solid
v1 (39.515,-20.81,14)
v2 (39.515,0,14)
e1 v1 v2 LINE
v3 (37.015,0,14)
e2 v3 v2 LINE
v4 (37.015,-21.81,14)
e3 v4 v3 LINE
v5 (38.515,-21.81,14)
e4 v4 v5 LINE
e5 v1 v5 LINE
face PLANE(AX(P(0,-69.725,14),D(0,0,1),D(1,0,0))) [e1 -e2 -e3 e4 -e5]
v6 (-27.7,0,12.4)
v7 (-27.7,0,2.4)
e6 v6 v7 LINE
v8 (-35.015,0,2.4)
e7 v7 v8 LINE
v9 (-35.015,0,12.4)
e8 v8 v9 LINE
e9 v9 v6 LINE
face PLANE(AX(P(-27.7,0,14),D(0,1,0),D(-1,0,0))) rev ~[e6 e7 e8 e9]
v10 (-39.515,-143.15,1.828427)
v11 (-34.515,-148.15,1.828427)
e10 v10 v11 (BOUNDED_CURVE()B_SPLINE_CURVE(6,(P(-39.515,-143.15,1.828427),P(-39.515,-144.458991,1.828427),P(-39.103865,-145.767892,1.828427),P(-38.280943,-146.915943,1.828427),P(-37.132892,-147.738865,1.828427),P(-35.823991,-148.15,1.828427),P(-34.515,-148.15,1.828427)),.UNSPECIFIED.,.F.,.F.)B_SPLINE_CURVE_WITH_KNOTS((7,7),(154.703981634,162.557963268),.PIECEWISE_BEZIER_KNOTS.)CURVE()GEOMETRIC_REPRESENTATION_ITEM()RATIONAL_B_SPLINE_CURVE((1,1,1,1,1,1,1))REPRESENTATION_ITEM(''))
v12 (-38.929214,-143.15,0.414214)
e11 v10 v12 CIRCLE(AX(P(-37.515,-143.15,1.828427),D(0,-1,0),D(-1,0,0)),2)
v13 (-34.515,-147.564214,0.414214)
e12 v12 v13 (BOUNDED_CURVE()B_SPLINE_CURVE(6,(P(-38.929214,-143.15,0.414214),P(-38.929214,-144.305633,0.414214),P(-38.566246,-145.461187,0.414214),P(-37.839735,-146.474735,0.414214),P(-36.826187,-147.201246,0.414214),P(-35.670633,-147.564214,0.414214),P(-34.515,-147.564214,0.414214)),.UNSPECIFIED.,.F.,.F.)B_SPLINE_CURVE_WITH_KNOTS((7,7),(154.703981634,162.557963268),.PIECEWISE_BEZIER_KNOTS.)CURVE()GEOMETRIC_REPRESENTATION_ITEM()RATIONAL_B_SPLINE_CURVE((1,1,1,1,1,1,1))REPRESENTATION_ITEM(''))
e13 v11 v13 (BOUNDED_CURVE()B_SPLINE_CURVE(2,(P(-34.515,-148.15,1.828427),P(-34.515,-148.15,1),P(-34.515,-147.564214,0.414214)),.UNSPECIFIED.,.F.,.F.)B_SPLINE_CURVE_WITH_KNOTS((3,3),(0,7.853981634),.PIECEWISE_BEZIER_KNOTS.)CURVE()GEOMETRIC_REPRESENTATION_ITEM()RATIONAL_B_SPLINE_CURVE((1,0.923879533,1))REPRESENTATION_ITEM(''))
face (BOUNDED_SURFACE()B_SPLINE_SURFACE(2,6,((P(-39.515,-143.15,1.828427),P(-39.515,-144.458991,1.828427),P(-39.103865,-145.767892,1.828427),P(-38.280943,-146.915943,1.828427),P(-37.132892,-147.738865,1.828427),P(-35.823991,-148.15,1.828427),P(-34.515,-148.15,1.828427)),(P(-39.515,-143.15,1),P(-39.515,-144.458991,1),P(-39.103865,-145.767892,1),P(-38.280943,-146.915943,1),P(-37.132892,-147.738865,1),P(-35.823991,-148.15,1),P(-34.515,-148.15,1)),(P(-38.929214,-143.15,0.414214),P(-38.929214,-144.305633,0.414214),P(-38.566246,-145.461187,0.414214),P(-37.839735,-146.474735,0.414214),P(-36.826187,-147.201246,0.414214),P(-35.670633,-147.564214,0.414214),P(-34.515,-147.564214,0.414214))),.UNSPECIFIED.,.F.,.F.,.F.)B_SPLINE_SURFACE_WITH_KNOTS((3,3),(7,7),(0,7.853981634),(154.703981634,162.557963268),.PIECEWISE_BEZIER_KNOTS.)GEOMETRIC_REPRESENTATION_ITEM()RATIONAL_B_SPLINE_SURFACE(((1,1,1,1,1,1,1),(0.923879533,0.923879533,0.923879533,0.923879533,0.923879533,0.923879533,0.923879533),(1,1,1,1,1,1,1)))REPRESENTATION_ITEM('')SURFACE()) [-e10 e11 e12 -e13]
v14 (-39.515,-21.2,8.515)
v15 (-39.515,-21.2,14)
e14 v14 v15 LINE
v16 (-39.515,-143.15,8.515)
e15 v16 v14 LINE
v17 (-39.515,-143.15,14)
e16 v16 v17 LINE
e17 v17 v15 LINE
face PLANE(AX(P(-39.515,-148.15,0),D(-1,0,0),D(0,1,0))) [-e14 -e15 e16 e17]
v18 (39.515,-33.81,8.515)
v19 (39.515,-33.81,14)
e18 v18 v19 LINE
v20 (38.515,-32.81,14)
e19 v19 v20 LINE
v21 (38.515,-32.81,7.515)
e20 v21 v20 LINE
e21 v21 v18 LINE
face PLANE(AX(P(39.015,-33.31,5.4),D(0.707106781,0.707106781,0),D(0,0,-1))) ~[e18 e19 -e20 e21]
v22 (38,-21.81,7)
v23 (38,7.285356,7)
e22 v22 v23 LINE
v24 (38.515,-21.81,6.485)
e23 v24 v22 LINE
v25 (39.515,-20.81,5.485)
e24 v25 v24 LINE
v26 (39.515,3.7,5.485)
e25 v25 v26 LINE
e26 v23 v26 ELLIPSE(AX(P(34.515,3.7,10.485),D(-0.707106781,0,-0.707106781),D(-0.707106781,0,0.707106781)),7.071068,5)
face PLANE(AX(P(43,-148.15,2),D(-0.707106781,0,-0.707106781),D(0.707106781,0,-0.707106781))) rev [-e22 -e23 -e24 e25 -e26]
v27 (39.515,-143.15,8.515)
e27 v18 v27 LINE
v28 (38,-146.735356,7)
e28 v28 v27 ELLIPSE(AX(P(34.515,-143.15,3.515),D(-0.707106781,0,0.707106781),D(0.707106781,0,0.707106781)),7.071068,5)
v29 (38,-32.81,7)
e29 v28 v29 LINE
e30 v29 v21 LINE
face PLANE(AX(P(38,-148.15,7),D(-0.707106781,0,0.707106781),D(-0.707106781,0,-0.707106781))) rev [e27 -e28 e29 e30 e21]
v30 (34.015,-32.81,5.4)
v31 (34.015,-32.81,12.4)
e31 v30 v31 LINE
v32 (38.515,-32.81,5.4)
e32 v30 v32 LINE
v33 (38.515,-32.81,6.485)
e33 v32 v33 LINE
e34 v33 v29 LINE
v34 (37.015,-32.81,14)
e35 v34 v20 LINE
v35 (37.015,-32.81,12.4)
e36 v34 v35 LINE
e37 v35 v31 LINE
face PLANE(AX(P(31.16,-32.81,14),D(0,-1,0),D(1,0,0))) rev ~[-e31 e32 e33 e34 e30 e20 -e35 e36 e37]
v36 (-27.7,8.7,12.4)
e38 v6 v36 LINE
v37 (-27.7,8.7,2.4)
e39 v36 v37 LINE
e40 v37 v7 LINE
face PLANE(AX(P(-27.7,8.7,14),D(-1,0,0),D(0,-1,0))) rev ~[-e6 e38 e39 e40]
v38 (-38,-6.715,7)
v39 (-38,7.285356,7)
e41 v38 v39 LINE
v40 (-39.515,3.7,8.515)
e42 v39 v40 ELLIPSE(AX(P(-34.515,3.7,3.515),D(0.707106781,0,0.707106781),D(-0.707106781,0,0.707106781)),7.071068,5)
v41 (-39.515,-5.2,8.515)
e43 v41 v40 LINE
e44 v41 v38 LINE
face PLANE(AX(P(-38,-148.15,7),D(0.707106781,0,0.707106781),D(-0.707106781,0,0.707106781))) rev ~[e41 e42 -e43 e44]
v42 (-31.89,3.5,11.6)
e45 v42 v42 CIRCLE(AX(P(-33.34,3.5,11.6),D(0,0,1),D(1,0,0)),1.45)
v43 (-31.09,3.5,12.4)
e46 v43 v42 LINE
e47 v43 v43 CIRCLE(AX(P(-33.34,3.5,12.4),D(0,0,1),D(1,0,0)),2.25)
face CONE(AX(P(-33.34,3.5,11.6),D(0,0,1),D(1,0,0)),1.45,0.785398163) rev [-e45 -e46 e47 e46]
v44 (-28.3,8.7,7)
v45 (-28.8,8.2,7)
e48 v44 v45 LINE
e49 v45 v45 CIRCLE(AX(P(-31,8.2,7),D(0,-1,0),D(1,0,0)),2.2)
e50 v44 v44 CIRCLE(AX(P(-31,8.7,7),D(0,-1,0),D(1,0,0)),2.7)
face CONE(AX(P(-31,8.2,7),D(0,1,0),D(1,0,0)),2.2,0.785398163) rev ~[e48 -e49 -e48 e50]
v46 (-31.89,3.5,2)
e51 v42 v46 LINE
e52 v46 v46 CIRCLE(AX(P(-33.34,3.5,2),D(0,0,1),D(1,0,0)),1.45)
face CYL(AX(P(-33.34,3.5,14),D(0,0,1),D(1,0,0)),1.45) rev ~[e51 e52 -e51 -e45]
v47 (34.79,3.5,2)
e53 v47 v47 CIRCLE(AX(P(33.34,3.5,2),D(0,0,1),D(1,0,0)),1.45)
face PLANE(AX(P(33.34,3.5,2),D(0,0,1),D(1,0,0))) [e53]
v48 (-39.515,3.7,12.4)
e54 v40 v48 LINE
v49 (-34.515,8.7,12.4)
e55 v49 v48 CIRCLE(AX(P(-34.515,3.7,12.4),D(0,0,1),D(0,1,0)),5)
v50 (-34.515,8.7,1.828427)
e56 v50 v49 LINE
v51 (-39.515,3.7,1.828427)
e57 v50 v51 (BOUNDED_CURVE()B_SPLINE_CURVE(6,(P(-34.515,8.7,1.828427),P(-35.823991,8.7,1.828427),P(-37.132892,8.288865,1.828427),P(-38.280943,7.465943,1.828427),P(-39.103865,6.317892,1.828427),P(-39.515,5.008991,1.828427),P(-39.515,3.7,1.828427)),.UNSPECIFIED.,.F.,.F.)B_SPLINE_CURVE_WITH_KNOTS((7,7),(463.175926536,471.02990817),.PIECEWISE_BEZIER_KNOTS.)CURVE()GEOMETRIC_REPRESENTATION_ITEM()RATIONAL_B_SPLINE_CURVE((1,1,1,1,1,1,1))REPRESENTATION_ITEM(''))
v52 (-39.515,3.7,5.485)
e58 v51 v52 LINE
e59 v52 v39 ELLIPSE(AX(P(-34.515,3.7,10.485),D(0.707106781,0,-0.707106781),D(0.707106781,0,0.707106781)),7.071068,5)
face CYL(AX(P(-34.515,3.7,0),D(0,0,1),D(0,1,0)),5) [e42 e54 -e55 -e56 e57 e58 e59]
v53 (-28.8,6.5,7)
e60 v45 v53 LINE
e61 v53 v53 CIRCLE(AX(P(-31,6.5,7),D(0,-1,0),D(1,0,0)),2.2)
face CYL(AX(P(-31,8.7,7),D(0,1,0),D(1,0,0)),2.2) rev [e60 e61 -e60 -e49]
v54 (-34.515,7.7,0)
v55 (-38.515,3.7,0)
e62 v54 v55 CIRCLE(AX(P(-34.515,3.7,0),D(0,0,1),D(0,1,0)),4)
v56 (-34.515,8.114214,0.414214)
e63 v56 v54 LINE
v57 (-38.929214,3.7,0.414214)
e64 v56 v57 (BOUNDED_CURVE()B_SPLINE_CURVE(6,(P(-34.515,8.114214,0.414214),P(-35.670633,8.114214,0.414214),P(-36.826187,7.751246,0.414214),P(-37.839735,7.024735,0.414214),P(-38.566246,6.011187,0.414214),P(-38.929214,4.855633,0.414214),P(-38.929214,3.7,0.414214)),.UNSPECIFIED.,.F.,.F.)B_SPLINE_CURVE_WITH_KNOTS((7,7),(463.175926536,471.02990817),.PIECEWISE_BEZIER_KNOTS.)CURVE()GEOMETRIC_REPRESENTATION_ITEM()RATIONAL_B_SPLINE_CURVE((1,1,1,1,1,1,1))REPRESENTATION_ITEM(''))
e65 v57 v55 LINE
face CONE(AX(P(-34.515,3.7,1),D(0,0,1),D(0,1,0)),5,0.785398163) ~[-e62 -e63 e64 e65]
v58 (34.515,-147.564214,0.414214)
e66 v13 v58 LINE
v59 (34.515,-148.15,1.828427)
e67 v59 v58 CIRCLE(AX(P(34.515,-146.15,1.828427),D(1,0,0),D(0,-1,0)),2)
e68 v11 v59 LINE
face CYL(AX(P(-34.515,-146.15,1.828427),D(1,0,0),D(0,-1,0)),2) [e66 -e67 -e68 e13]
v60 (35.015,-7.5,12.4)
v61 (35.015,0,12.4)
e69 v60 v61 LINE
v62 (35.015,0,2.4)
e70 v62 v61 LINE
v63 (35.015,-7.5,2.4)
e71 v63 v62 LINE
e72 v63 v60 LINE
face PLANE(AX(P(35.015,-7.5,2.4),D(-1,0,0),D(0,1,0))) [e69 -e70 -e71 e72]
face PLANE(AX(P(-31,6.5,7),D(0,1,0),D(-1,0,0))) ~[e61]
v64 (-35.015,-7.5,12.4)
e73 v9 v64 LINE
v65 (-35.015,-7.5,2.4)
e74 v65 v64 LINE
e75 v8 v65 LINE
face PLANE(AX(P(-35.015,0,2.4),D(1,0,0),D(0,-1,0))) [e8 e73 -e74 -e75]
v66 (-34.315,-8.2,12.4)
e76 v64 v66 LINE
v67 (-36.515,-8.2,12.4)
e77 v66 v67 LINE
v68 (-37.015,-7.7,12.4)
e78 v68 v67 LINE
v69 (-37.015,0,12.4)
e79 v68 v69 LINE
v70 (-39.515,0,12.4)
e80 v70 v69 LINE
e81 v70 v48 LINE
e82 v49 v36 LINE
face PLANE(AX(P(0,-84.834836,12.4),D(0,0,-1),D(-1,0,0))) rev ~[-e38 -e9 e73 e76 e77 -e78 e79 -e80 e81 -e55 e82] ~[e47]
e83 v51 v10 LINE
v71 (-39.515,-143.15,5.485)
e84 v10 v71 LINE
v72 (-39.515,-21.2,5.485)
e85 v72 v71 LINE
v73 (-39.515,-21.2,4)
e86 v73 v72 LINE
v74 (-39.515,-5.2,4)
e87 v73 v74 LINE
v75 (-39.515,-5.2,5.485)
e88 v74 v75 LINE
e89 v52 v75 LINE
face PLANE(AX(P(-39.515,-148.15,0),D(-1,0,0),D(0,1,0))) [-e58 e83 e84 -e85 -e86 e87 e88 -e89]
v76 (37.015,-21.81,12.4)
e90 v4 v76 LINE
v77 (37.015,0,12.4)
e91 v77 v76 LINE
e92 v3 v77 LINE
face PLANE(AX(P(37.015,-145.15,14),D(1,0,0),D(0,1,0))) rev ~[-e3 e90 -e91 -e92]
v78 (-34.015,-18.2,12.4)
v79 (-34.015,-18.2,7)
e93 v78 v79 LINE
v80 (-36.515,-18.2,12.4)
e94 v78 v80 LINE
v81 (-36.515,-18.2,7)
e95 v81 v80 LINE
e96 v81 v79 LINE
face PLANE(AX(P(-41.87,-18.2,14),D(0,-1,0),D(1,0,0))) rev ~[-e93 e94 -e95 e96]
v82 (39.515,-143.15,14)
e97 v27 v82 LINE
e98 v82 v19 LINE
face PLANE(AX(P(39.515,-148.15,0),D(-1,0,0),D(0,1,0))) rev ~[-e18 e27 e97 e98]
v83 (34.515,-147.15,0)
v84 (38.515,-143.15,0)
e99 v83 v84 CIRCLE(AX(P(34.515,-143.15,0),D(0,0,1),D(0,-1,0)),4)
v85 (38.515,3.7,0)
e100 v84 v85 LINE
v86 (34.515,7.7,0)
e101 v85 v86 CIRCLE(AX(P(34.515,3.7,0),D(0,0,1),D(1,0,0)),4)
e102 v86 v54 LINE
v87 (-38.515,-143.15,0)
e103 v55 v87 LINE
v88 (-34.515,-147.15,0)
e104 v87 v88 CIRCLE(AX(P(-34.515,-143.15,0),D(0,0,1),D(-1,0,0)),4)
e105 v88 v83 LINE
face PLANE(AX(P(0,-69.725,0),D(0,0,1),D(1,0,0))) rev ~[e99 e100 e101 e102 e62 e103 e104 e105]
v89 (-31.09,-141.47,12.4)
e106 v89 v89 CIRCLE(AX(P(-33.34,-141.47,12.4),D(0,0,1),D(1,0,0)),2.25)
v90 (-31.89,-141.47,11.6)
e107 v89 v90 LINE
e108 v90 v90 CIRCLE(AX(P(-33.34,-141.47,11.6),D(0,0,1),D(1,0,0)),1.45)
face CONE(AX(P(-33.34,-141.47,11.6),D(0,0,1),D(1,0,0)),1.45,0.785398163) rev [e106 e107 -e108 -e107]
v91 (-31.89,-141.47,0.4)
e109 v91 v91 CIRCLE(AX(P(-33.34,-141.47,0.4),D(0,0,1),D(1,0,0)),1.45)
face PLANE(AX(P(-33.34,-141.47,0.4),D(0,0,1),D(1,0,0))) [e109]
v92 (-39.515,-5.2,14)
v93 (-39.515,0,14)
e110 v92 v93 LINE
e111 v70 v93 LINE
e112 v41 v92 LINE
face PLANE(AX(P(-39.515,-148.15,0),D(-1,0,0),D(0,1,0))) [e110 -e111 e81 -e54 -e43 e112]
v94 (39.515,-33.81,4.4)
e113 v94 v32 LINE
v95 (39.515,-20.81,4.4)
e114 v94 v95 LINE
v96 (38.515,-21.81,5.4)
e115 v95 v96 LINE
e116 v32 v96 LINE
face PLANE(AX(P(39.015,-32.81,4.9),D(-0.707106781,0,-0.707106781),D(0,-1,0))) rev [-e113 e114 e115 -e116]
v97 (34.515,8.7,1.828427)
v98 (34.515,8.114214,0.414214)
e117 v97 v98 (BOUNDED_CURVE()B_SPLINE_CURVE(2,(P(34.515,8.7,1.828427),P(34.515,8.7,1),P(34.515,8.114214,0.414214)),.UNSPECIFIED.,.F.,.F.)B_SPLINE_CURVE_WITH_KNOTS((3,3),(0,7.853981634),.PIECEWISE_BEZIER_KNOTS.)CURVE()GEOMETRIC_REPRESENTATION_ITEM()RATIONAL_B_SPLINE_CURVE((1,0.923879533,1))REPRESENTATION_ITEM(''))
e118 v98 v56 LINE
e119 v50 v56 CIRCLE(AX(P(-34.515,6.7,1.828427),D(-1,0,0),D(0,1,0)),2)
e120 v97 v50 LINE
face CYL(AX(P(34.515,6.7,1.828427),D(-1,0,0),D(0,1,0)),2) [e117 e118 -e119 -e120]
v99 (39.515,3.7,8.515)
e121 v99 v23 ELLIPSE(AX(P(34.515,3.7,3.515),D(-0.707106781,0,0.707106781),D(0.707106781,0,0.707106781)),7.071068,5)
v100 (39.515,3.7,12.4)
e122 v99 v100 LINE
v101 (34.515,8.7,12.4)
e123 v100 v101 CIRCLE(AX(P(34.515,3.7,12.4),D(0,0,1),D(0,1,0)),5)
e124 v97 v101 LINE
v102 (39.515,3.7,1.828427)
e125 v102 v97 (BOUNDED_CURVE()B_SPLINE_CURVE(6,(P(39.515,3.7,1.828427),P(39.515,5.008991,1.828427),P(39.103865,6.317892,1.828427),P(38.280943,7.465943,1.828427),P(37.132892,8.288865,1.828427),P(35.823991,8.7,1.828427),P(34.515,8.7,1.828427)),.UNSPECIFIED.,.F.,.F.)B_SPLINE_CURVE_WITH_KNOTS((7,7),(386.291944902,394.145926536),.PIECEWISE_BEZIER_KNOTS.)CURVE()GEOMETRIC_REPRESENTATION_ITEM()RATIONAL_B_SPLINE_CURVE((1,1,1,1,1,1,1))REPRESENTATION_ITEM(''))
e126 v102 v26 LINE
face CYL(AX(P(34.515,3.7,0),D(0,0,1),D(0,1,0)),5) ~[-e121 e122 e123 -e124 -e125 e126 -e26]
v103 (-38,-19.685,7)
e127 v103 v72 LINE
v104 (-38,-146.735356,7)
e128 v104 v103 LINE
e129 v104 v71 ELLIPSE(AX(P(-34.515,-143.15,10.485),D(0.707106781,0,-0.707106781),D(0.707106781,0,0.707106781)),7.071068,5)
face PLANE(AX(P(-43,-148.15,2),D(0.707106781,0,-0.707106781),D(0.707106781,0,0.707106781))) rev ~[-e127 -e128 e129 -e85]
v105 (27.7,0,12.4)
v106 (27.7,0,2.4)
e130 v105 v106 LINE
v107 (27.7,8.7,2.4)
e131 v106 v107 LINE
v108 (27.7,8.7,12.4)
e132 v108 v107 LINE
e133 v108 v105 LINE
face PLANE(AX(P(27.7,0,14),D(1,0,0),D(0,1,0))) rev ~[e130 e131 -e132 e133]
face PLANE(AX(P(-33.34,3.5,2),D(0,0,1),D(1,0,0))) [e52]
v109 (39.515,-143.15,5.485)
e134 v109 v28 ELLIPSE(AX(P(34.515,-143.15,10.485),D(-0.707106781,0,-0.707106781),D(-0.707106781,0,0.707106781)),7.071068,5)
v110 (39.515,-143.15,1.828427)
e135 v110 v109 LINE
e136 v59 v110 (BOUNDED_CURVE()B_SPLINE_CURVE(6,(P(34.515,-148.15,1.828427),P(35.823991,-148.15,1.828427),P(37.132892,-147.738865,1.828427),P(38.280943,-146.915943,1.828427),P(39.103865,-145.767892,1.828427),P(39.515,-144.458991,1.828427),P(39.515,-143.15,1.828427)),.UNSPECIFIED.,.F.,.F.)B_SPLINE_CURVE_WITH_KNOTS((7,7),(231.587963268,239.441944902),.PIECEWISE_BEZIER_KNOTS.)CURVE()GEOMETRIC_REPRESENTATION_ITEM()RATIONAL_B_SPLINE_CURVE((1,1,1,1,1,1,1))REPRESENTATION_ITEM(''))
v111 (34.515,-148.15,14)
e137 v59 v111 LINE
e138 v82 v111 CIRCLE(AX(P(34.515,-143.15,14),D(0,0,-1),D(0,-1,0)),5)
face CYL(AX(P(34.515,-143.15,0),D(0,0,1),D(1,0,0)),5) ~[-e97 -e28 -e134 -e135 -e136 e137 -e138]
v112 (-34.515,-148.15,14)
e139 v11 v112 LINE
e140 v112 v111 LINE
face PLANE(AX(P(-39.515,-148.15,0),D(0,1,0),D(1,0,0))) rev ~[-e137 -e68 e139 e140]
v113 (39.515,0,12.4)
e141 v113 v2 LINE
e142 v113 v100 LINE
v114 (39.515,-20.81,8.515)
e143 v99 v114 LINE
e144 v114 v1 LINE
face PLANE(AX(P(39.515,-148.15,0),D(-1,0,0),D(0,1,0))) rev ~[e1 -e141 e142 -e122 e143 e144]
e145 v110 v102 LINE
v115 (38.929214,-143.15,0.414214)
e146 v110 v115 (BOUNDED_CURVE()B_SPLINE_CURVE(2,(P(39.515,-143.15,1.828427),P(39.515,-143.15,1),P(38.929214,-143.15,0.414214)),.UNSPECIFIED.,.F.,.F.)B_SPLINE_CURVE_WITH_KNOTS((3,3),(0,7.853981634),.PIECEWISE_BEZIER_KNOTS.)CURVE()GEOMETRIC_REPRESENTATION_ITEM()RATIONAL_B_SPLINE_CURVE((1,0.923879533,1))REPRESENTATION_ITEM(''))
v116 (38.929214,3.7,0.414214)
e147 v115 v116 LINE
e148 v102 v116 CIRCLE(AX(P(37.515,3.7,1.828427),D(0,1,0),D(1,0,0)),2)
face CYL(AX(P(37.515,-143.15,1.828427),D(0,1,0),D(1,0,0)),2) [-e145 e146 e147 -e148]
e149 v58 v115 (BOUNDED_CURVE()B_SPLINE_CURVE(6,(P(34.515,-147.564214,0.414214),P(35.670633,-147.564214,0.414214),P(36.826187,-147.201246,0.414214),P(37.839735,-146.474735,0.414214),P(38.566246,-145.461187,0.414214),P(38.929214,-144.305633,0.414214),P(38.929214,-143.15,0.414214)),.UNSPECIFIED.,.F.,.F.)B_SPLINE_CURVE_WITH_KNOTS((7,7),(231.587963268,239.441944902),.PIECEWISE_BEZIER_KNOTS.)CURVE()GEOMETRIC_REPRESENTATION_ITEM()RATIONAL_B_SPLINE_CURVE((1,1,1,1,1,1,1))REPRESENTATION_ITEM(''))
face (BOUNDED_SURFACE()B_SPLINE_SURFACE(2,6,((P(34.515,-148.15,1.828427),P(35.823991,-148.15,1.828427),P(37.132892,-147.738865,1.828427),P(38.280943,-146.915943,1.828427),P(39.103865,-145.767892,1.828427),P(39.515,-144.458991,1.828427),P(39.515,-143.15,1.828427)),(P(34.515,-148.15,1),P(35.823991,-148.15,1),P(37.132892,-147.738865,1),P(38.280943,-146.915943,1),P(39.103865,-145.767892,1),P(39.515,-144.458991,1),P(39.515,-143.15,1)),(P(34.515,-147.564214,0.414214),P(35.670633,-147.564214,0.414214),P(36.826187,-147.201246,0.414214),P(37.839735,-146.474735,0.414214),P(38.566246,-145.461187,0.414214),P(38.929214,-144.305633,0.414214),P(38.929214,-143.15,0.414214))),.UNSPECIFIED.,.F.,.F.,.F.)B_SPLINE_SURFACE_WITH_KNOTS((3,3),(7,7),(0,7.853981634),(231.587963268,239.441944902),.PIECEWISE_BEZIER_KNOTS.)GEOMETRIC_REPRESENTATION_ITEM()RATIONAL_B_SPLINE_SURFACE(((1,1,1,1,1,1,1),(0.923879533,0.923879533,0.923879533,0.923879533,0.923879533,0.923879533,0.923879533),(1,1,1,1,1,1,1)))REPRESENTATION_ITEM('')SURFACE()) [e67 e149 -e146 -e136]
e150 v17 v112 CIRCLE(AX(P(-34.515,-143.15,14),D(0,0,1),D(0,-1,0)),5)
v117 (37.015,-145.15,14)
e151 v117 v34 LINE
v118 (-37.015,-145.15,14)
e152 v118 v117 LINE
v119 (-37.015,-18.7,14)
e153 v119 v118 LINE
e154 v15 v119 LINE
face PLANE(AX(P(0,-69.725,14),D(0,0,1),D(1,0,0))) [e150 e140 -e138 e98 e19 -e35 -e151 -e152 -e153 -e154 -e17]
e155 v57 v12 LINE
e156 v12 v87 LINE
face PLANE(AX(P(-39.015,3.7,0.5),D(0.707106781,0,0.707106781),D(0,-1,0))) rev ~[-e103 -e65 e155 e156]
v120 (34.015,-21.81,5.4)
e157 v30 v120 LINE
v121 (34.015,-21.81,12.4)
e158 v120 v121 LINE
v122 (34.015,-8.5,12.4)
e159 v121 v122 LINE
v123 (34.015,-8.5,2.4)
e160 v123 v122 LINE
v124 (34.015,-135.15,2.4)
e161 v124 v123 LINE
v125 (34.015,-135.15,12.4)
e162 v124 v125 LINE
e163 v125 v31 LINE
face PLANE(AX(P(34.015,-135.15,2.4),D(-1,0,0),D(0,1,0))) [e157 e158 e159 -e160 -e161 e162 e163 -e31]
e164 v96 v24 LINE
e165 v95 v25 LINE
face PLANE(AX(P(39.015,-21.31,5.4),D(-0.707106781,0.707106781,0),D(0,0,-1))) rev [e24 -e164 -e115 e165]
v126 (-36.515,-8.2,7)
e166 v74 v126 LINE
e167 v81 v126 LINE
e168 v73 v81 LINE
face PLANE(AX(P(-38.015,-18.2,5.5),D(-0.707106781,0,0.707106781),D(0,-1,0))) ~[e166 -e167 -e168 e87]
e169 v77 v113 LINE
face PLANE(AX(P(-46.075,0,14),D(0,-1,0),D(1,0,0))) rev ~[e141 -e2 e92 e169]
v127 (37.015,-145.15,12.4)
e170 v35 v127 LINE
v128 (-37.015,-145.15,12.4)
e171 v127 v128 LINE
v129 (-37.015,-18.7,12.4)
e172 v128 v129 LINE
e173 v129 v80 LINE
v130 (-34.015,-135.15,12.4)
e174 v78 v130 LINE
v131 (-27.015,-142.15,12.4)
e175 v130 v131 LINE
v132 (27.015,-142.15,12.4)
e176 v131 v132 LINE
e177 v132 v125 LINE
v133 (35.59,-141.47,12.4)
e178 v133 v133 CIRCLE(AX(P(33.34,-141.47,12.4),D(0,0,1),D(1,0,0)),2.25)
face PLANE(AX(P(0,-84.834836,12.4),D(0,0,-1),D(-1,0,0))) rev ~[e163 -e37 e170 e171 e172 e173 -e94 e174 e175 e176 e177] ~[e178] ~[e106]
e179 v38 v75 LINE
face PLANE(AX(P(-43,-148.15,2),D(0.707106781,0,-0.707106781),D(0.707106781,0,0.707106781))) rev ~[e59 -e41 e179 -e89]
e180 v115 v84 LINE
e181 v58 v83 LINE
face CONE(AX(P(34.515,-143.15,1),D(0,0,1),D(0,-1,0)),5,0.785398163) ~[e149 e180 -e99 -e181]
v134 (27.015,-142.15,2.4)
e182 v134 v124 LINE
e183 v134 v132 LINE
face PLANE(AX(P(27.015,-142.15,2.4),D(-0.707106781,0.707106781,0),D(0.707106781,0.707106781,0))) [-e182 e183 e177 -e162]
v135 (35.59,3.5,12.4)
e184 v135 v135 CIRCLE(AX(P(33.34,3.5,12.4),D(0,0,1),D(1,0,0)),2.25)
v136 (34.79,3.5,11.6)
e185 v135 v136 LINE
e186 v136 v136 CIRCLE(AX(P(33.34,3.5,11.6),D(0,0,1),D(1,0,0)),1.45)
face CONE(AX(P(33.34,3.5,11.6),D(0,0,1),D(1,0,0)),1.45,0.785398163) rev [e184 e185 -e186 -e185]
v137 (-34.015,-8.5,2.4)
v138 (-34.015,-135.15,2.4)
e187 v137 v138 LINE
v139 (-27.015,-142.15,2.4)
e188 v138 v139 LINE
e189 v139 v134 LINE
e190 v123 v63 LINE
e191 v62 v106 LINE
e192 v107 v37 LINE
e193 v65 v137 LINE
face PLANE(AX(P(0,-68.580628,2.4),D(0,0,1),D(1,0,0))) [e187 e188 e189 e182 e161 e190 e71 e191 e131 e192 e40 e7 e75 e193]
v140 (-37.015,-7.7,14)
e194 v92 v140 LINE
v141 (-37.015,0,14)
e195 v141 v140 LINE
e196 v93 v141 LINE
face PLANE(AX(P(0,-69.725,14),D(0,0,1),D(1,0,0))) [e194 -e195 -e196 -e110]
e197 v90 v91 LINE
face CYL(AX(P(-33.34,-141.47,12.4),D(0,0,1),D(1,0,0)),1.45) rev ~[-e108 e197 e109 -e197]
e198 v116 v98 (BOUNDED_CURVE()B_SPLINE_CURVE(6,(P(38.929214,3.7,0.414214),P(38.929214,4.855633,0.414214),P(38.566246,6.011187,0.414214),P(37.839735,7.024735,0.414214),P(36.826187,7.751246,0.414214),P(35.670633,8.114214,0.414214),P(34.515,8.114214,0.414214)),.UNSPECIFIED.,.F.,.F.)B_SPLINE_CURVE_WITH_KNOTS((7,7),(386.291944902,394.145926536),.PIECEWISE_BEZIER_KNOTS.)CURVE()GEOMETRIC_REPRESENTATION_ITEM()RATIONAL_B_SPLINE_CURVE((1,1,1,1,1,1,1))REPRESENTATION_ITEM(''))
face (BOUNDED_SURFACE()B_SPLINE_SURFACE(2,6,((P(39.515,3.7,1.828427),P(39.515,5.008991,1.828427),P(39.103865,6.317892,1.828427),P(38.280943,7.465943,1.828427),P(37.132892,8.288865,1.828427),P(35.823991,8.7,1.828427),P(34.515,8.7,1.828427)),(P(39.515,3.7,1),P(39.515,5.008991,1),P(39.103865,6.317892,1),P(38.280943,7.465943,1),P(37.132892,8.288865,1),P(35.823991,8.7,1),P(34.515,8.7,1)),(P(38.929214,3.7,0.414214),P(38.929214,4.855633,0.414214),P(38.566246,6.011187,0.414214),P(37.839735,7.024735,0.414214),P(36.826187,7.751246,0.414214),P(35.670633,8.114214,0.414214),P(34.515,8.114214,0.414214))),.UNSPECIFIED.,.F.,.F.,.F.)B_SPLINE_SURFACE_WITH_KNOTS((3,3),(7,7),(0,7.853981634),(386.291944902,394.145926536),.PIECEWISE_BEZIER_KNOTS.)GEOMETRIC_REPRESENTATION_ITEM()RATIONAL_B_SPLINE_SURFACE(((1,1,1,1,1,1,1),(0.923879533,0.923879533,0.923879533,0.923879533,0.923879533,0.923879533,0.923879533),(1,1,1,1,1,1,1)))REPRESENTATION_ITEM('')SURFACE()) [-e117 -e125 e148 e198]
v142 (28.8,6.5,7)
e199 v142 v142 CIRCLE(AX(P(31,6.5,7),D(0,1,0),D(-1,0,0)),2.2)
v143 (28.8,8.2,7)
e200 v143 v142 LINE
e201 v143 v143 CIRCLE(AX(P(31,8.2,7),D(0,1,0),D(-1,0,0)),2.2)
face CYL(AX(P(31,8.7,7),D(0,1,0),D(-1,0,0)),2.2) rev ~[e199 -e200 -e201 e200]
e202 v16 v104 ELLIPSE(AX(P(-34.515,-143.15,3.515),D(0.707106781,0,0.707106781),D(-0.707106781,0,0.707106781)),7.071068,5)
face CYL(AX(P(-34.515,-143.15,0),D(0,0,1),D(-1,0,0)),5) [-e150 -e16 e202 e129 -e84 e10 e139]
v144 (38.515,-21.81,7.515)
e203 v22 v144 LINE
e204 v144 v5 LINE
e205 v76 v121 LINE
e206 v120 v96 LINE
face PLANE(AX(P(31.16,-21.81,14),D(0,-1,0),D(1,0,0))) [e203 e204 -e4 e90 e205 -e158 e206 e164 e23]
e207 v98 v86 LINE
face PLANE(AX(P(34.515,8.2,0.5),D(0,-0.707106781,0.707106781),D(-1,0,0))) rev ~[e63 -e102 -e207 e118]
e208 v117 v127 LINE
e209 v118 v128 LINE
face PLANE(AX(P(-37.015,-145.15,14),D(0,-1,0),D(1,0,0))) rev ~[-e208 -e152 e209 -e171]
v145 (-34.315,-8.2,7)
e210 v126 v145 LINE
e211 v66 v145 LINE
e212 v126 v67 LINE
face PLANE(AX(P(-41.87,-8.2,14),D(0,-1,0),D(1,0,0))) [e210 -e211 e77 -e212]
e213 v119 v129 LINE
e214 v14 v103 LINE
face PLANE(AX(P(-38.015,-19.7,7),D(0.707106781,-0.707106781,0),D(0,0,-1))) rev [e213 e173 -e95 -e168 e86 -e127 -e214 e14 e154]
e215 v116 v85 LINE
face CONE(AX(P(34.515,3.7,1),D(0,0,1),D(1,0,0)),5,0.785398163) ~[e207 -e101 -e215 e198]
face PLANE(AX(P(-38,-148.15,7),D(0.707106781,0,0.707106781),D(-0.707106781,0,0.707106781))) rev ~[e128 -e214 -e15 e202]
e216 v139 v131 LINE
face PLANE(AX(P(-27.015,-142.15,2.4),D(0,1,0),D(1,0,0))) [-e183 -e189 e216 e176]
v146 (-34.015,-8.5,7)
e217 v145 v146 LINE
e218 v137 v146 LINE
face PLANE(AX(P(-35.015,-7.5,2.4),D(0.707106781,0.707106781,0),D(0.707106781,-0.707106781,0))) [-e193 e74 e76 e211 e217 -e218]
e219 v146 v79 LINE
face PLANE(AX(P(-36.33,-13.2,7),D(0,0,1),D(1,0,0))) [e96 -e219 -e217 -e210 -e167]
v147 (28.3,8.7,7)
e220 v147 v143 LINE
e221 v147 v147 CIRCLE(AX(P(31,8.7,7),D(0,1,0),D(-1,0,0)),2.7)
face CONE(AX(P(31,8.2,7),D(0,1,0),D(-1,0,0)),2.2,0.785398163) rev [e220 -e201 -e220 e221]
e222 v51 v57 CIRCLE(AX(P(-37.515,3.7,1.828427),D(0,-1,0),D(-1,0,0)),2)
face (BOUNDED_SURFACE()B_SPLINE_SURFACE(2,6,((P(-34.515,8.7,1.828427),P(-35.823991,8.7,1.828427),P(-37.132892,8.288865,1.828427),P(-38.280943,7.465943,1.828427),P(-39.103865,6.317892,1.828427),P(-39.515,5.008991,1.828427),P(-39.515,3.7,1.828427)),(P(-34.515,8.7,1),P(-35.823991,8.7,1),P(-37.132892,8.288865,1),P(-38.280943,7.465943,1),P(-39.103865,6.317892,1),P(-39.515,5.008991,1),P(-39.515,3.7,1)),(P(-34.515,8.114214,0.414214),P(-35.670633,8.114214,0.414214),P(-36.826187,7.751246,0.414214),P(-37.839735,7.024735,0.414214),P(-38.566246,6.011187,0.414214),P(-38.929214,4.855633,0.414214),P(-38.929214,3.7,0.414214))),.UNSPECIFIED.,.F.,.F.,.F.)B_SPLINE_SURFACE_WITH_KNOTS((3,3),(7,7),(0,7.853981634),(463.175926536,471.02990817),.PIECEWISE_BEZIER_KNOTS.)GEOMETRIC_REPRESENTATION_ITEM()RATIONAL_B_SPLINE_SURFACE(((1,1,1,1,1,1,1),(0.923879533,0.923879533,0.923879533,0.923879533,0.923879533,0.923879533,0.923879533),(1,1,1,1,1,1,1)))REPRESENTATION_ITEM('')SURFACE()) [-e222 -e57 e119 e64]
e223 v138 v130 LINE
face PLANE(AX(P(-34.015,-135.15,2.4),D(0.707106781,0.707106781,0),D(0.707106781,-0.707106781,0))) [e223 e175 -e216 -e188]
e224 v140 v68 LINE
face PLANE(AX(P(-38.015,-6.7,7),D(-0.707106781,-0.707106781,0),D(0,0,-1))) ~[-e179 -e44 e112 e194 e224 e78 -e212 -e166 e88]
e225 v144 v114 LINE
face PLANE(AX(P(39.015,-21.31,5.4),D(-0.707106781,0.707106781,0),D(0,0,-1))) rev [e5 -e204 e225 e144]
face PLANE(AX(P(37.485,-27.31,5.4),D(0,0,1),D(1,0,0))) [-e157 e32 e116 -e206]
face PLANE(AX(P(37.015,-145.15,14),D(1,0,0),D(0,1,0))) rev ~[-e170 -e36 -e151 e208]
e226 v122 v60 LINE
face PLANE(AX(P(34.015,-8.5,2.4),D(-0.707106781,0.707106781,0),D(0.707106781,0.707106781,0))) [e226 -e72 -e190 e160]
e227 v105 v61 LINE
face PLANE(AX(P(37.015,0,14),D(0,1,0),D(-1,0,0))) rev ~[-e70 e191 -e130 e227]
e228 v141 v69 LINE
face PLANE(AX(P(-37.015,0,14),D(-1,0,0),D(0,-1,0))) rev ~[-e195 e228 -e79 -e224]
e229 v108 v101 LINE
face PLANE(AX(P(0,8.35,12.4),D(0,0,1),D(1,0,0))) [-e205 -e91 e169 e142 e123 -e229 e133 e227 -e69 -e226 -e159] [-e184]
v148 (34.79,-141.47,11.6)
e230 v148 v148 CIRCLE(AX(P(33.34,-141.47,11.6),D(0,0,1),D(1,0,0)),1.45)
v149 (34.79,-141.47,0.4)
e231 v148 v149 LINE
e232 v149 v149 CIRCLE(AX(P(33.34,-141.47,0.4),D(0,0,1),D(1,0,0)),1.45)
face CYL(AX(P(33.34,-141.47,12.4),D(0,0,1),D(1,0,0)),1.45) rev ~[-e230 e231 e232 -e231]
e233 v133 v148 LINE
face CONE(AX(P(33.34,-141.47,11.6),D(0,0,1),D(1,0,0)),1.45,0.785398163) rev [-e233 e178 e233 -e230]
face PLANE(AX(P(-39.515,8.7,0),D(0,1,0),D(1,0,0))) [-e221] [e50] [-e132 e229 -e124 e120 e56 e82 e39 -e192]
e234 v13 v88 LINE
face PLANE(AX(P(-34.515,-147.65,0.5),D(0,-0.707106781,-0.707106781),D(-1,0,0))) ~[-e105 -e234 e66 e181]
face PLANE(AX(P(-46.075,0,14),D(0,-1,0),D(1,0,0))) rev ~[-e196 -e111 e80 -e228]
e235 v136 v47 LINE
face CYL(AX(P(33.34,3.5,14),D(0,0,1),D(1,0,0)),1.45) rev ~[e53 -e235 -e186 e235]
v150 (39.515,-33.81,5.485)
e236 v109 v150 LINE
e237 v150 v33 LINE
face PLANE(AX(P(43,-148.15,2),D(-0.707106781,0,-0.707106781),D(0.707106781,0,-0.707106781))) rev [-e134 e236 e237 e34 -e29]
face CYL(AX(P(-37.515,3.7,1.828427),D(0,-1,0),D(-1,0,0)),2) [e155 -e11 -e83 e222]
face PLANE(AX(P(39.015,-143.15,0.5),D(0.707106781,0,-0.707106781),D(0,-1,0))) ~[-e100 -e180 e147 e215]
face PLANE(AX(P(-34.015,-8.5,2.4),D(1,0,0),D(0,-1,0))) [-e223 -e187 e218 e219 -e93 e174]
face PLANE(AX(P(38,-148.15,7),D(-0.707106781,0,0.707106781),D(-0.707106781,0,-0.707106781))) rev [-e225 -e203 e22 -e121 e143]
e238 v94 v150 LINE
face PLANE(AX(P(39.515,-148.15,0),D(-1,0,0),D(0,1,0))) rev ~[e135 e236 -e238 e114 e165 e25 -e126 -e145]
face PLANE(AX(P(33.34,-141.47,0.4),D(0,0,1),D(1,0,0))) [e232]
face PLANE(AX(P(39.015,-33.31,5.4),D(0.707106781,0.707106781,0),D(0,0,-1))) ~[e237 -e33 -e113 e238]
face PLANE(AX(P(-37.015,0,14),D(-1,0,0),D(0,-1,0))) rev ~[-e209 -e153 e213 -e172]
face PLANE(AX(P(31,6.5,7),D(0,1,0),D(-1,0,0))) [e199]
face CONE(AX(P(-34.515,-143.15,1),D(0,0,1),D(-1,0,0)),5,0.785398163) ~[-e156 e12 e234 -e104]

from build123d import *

# Parameters (mm, degrees)
SKETCH_W        = 79.03
SKETCH_H        = 156.85
PAD_DEPTH       = 14
POCKET_DEPTH    = 11.6
PAD001_DEPTH    = 10
SKETCH003_R     = 1.45
POCKET001_DEPTH = 12
FILLET_R        = 5
CHAMFER_SIZE    = 1
FILLET001_R     = 2
CHAMFER001_SIZE = 0.8
SKETCH004_W     = 12.65
SKETCH004_H     = 11
POCKET002_DEPTH = 8.6
SKETCH005_W     = 11.08
SKETCH005_H     = 10
POCKET003_DEPTH = 7
SKETCH006_R     = 1.45
POCKET004_DEPTH = 12
SKETCH007_W     = 92.15
SKETCH007_H     = 16.7
POCKET005_DEPTH = 1.6
CHAMFER002_SIZE = 0.8
CHAMFER003_SIZE = 3
CHAMFER004_SIZE = 1
POCKET006_DEPTH = 509.235242
SKETCH009_R     = 2.2
POCKET007_DEPTH = 2.2
CHAMFER005_SIZE = 0.5


with BuildPart() as part:
    # Sketch → Pad (new body)
    with BuildSketch(Plane.XY):
        with Locations((0, -69.725)):
            Rectangle(SKETCH_W, SKETCH_H)
    extrude(amount=PAD_DEPTH)

    # Sketch001 (on Face6 of Pad) → Pocket (cut)
    with BuildSketch(Plane.XY.offset(14)):
        Polygon((-37.015, -145.15), (37.015, -145.15), (37.015, 0), (27.7, 0), (27.7, 8.7), (-27.7, 8.7), (-27.7, 0), (-37.015, 0), align=None)
    extrude(amount=-POCKET_DEPTH, mode=Mode.SUBTRACT)

    # Sketch002 (on Face6 of Pocket) → Pad001 (join)
    with BuildSketch(Plane.XY.offset(2.4)):
        Polygon((-35.015, 0), (-35.015, -7.5), (-34.015, -8.5), (-34.015, -135.15), (-27.015, -142.15), (27.015, -142.15), (34.015, -135.15), (34.015, -8.5), (35.015, -7.5), (35.015, 0), (37.015, 0), (37.015, -145.15), (-37.015, -145.15), (-37.015, 0), align=None)
    extrude(amount=PAD001_DEPTH)

    # Sketch003 (on Face24 of Pad001) → Pocket001 (cut)
    with BuildSketch(Plane.XY.offset(12.4)):
        with Locations((-33.34, -141.47)):
            Circle(SKETCH003_R)
        with Locations((33.34, -141.47)):
            Circle(SKETCH003_R)
    extrude(amount=-POCKET001_DEPTH, mode=Mode.SUBTRACT)

    # Fillet
    fillet_edges = [part.edges().sort_by_distance(p)[0] for p in [
        (39.515, 8.7, 7),
        (39.515, -148.15, 7),
        (-39.515, 8.7, 7),
        (-39.515, -148.15, 7),
    ]]
    fillet(fillet_edges, radius=FILLET_R)

    # Chamfer
    chamfer_edges = [part.edges().sort_by_distance(p)[0] for p in [
        (-38.050534, 7.235534, 0),
    ]]
    chamfer(chamfer_edges, length=CHAMFER_SIZE)

    # Fillet001
    fillet001_edges = [part.edges().sort_by_distance(p)[0] for p in [
        (-38.050534, 7.235534, 1),
    ]]
    fillet(fillet001_edges, radius=FILLET001_R)

    # Chamfer001
    chamfer001_edges = [part.edges().sort_by_distance(p)[0] for p in [
        (-34.79, -141.47, 12.4),
        (31.89, -141.47, 12.4),
    ]]
    chamfer(chamfer001_edges, length=CHAMFER001_SIZE)

    # Sketch004 (on Face20 of Chamfer001) → Pocket002 (cut)
    with BuildSketch(Plane.XY.offset(14)):
        with Locations((37.485, -27.31)):
            Rectangle(SKETCH004_W, SKETCH004_H)
    extrude(amount=-POCKET002_DEPTH, mode=Mode.SUBTRACT)

    # Sketch005 (on Face16 of Pocket002) → Pocket003 (cut)
    with BuildSketch(Plane.XY.offset(14)):
        with Locations((-36.33, -13.2)):
            Rectangle(SKETCH005_W, SKETCH005_H)
    extrude(amount=-POCKET003_DEPTH, mode=Mode.SUBTRACT)

    # Sketch006 → Pocket004 (cut)
    with BuildSketch(Plane.XY.offset(14)):
        with Locations((-33.34, 3.5)):
            Circle(SKETCH006_R)
        with Locations((33.34, 3.5)):
            Circle(SKETCH006_R)
    extrude(amount=-POCKET004_DEPTH, mode=Mode.SUBTRACT)

    # Sketch007 (on Face7 of Pocket004) → Pocket005 (cut)
    with BuildSketch(Plane.XY.offset(14)):
        with Locations((0, 8.35)):
            Rectangle(SKETCH007_W, SKETCH007_H)
    extrude(amount=-POCKET005_DEPTH, mode=Mode.SUBTRACT)

    # Chamfer002
    chamfer002_edges = [part.edges().sort_by_distance(p)[0] for p in [
        (31.89, 3.5, 12.4),
        (-34.79, 3.5, 12.4),
    ]]
    chamfer(chamfer002_edges, length=CHAMFER002_SIZE)

    # Chamfer003
    chamfer003_edges = [part.edges().sort_by_distance(p)[0] for p in [
        (-39.515, -8.2, 10.5),
        (-39.515, -13.2, 7),
        (-39.515, -18.2, 10.5),
    ]]
    chamfer(chamfer003_edges, length=CHAMFER003_SIZE)

    # Chamfer004
    chamfer004_edges = [part.edges().sort_by_distance(p)[0] for p in [
        (39.515, -21.81, 9.7),
        (39.515, -27.31, 5.4),
        (39.515, -32.81, 9.7),
    ]]
    chamfer(chamfer004_edges, length=CHAMFER004_SIZE)

    # Sketch008 (on Face9 of Chamfer004) → Pocket006 (cut, through all)
    with BuildSketch(Plane.XZ.offset(148.15)):
        Polygon((-43, 12), (-43, 2), (-38, 7), align=None)
    pocket006 = extrude(amount=-POCKET006_DEPTH, mode=Mode.SUBTRACT)

    # Mirrored: Pocket006 across Sketch008 V_Axis
    add(pocket006.mirror(Plane(origin=(0, -148.15, 0), x_dir=(0, -1, 0), z_dir=(1, 0, 0))), mode=Mode.SUBTRACT)

    # Sketch009 (on Face56 of Mirrored) → Pocket007 (cut)
    with BuildSketch(Plane(origin=(0, 8.7, 0), x_dir=(-1, 0, 0), z_dir=(0, 1, 0))):
        with Locations((-31, 7)):
            Circle(SKETCH009_R)
    pocket007 = extrude(amount=-POCKET007_DEPTH, mode=Mode.SUBTRACT)

    # Mirrored001: Pocket007 across Sketch009 V_Axis
    add(pocket007.mirror(Plane(origin=(0, 8.7, 0), x_dir=(0, 1, 0), z_dir=(-1, 0, 0))), mode=Mode.SUBTRACT)

    # Chamfer005
    chamfer005_edges = [part.edges().sort_by_distance(p)[0] for p in [
        (33.2, 8.7, 7),
        (-33.2, 8.7, 7),
    ]]
    chamfer(chamfer005_edges, length=CHAMFER005_SIZE)


solid = part.part
